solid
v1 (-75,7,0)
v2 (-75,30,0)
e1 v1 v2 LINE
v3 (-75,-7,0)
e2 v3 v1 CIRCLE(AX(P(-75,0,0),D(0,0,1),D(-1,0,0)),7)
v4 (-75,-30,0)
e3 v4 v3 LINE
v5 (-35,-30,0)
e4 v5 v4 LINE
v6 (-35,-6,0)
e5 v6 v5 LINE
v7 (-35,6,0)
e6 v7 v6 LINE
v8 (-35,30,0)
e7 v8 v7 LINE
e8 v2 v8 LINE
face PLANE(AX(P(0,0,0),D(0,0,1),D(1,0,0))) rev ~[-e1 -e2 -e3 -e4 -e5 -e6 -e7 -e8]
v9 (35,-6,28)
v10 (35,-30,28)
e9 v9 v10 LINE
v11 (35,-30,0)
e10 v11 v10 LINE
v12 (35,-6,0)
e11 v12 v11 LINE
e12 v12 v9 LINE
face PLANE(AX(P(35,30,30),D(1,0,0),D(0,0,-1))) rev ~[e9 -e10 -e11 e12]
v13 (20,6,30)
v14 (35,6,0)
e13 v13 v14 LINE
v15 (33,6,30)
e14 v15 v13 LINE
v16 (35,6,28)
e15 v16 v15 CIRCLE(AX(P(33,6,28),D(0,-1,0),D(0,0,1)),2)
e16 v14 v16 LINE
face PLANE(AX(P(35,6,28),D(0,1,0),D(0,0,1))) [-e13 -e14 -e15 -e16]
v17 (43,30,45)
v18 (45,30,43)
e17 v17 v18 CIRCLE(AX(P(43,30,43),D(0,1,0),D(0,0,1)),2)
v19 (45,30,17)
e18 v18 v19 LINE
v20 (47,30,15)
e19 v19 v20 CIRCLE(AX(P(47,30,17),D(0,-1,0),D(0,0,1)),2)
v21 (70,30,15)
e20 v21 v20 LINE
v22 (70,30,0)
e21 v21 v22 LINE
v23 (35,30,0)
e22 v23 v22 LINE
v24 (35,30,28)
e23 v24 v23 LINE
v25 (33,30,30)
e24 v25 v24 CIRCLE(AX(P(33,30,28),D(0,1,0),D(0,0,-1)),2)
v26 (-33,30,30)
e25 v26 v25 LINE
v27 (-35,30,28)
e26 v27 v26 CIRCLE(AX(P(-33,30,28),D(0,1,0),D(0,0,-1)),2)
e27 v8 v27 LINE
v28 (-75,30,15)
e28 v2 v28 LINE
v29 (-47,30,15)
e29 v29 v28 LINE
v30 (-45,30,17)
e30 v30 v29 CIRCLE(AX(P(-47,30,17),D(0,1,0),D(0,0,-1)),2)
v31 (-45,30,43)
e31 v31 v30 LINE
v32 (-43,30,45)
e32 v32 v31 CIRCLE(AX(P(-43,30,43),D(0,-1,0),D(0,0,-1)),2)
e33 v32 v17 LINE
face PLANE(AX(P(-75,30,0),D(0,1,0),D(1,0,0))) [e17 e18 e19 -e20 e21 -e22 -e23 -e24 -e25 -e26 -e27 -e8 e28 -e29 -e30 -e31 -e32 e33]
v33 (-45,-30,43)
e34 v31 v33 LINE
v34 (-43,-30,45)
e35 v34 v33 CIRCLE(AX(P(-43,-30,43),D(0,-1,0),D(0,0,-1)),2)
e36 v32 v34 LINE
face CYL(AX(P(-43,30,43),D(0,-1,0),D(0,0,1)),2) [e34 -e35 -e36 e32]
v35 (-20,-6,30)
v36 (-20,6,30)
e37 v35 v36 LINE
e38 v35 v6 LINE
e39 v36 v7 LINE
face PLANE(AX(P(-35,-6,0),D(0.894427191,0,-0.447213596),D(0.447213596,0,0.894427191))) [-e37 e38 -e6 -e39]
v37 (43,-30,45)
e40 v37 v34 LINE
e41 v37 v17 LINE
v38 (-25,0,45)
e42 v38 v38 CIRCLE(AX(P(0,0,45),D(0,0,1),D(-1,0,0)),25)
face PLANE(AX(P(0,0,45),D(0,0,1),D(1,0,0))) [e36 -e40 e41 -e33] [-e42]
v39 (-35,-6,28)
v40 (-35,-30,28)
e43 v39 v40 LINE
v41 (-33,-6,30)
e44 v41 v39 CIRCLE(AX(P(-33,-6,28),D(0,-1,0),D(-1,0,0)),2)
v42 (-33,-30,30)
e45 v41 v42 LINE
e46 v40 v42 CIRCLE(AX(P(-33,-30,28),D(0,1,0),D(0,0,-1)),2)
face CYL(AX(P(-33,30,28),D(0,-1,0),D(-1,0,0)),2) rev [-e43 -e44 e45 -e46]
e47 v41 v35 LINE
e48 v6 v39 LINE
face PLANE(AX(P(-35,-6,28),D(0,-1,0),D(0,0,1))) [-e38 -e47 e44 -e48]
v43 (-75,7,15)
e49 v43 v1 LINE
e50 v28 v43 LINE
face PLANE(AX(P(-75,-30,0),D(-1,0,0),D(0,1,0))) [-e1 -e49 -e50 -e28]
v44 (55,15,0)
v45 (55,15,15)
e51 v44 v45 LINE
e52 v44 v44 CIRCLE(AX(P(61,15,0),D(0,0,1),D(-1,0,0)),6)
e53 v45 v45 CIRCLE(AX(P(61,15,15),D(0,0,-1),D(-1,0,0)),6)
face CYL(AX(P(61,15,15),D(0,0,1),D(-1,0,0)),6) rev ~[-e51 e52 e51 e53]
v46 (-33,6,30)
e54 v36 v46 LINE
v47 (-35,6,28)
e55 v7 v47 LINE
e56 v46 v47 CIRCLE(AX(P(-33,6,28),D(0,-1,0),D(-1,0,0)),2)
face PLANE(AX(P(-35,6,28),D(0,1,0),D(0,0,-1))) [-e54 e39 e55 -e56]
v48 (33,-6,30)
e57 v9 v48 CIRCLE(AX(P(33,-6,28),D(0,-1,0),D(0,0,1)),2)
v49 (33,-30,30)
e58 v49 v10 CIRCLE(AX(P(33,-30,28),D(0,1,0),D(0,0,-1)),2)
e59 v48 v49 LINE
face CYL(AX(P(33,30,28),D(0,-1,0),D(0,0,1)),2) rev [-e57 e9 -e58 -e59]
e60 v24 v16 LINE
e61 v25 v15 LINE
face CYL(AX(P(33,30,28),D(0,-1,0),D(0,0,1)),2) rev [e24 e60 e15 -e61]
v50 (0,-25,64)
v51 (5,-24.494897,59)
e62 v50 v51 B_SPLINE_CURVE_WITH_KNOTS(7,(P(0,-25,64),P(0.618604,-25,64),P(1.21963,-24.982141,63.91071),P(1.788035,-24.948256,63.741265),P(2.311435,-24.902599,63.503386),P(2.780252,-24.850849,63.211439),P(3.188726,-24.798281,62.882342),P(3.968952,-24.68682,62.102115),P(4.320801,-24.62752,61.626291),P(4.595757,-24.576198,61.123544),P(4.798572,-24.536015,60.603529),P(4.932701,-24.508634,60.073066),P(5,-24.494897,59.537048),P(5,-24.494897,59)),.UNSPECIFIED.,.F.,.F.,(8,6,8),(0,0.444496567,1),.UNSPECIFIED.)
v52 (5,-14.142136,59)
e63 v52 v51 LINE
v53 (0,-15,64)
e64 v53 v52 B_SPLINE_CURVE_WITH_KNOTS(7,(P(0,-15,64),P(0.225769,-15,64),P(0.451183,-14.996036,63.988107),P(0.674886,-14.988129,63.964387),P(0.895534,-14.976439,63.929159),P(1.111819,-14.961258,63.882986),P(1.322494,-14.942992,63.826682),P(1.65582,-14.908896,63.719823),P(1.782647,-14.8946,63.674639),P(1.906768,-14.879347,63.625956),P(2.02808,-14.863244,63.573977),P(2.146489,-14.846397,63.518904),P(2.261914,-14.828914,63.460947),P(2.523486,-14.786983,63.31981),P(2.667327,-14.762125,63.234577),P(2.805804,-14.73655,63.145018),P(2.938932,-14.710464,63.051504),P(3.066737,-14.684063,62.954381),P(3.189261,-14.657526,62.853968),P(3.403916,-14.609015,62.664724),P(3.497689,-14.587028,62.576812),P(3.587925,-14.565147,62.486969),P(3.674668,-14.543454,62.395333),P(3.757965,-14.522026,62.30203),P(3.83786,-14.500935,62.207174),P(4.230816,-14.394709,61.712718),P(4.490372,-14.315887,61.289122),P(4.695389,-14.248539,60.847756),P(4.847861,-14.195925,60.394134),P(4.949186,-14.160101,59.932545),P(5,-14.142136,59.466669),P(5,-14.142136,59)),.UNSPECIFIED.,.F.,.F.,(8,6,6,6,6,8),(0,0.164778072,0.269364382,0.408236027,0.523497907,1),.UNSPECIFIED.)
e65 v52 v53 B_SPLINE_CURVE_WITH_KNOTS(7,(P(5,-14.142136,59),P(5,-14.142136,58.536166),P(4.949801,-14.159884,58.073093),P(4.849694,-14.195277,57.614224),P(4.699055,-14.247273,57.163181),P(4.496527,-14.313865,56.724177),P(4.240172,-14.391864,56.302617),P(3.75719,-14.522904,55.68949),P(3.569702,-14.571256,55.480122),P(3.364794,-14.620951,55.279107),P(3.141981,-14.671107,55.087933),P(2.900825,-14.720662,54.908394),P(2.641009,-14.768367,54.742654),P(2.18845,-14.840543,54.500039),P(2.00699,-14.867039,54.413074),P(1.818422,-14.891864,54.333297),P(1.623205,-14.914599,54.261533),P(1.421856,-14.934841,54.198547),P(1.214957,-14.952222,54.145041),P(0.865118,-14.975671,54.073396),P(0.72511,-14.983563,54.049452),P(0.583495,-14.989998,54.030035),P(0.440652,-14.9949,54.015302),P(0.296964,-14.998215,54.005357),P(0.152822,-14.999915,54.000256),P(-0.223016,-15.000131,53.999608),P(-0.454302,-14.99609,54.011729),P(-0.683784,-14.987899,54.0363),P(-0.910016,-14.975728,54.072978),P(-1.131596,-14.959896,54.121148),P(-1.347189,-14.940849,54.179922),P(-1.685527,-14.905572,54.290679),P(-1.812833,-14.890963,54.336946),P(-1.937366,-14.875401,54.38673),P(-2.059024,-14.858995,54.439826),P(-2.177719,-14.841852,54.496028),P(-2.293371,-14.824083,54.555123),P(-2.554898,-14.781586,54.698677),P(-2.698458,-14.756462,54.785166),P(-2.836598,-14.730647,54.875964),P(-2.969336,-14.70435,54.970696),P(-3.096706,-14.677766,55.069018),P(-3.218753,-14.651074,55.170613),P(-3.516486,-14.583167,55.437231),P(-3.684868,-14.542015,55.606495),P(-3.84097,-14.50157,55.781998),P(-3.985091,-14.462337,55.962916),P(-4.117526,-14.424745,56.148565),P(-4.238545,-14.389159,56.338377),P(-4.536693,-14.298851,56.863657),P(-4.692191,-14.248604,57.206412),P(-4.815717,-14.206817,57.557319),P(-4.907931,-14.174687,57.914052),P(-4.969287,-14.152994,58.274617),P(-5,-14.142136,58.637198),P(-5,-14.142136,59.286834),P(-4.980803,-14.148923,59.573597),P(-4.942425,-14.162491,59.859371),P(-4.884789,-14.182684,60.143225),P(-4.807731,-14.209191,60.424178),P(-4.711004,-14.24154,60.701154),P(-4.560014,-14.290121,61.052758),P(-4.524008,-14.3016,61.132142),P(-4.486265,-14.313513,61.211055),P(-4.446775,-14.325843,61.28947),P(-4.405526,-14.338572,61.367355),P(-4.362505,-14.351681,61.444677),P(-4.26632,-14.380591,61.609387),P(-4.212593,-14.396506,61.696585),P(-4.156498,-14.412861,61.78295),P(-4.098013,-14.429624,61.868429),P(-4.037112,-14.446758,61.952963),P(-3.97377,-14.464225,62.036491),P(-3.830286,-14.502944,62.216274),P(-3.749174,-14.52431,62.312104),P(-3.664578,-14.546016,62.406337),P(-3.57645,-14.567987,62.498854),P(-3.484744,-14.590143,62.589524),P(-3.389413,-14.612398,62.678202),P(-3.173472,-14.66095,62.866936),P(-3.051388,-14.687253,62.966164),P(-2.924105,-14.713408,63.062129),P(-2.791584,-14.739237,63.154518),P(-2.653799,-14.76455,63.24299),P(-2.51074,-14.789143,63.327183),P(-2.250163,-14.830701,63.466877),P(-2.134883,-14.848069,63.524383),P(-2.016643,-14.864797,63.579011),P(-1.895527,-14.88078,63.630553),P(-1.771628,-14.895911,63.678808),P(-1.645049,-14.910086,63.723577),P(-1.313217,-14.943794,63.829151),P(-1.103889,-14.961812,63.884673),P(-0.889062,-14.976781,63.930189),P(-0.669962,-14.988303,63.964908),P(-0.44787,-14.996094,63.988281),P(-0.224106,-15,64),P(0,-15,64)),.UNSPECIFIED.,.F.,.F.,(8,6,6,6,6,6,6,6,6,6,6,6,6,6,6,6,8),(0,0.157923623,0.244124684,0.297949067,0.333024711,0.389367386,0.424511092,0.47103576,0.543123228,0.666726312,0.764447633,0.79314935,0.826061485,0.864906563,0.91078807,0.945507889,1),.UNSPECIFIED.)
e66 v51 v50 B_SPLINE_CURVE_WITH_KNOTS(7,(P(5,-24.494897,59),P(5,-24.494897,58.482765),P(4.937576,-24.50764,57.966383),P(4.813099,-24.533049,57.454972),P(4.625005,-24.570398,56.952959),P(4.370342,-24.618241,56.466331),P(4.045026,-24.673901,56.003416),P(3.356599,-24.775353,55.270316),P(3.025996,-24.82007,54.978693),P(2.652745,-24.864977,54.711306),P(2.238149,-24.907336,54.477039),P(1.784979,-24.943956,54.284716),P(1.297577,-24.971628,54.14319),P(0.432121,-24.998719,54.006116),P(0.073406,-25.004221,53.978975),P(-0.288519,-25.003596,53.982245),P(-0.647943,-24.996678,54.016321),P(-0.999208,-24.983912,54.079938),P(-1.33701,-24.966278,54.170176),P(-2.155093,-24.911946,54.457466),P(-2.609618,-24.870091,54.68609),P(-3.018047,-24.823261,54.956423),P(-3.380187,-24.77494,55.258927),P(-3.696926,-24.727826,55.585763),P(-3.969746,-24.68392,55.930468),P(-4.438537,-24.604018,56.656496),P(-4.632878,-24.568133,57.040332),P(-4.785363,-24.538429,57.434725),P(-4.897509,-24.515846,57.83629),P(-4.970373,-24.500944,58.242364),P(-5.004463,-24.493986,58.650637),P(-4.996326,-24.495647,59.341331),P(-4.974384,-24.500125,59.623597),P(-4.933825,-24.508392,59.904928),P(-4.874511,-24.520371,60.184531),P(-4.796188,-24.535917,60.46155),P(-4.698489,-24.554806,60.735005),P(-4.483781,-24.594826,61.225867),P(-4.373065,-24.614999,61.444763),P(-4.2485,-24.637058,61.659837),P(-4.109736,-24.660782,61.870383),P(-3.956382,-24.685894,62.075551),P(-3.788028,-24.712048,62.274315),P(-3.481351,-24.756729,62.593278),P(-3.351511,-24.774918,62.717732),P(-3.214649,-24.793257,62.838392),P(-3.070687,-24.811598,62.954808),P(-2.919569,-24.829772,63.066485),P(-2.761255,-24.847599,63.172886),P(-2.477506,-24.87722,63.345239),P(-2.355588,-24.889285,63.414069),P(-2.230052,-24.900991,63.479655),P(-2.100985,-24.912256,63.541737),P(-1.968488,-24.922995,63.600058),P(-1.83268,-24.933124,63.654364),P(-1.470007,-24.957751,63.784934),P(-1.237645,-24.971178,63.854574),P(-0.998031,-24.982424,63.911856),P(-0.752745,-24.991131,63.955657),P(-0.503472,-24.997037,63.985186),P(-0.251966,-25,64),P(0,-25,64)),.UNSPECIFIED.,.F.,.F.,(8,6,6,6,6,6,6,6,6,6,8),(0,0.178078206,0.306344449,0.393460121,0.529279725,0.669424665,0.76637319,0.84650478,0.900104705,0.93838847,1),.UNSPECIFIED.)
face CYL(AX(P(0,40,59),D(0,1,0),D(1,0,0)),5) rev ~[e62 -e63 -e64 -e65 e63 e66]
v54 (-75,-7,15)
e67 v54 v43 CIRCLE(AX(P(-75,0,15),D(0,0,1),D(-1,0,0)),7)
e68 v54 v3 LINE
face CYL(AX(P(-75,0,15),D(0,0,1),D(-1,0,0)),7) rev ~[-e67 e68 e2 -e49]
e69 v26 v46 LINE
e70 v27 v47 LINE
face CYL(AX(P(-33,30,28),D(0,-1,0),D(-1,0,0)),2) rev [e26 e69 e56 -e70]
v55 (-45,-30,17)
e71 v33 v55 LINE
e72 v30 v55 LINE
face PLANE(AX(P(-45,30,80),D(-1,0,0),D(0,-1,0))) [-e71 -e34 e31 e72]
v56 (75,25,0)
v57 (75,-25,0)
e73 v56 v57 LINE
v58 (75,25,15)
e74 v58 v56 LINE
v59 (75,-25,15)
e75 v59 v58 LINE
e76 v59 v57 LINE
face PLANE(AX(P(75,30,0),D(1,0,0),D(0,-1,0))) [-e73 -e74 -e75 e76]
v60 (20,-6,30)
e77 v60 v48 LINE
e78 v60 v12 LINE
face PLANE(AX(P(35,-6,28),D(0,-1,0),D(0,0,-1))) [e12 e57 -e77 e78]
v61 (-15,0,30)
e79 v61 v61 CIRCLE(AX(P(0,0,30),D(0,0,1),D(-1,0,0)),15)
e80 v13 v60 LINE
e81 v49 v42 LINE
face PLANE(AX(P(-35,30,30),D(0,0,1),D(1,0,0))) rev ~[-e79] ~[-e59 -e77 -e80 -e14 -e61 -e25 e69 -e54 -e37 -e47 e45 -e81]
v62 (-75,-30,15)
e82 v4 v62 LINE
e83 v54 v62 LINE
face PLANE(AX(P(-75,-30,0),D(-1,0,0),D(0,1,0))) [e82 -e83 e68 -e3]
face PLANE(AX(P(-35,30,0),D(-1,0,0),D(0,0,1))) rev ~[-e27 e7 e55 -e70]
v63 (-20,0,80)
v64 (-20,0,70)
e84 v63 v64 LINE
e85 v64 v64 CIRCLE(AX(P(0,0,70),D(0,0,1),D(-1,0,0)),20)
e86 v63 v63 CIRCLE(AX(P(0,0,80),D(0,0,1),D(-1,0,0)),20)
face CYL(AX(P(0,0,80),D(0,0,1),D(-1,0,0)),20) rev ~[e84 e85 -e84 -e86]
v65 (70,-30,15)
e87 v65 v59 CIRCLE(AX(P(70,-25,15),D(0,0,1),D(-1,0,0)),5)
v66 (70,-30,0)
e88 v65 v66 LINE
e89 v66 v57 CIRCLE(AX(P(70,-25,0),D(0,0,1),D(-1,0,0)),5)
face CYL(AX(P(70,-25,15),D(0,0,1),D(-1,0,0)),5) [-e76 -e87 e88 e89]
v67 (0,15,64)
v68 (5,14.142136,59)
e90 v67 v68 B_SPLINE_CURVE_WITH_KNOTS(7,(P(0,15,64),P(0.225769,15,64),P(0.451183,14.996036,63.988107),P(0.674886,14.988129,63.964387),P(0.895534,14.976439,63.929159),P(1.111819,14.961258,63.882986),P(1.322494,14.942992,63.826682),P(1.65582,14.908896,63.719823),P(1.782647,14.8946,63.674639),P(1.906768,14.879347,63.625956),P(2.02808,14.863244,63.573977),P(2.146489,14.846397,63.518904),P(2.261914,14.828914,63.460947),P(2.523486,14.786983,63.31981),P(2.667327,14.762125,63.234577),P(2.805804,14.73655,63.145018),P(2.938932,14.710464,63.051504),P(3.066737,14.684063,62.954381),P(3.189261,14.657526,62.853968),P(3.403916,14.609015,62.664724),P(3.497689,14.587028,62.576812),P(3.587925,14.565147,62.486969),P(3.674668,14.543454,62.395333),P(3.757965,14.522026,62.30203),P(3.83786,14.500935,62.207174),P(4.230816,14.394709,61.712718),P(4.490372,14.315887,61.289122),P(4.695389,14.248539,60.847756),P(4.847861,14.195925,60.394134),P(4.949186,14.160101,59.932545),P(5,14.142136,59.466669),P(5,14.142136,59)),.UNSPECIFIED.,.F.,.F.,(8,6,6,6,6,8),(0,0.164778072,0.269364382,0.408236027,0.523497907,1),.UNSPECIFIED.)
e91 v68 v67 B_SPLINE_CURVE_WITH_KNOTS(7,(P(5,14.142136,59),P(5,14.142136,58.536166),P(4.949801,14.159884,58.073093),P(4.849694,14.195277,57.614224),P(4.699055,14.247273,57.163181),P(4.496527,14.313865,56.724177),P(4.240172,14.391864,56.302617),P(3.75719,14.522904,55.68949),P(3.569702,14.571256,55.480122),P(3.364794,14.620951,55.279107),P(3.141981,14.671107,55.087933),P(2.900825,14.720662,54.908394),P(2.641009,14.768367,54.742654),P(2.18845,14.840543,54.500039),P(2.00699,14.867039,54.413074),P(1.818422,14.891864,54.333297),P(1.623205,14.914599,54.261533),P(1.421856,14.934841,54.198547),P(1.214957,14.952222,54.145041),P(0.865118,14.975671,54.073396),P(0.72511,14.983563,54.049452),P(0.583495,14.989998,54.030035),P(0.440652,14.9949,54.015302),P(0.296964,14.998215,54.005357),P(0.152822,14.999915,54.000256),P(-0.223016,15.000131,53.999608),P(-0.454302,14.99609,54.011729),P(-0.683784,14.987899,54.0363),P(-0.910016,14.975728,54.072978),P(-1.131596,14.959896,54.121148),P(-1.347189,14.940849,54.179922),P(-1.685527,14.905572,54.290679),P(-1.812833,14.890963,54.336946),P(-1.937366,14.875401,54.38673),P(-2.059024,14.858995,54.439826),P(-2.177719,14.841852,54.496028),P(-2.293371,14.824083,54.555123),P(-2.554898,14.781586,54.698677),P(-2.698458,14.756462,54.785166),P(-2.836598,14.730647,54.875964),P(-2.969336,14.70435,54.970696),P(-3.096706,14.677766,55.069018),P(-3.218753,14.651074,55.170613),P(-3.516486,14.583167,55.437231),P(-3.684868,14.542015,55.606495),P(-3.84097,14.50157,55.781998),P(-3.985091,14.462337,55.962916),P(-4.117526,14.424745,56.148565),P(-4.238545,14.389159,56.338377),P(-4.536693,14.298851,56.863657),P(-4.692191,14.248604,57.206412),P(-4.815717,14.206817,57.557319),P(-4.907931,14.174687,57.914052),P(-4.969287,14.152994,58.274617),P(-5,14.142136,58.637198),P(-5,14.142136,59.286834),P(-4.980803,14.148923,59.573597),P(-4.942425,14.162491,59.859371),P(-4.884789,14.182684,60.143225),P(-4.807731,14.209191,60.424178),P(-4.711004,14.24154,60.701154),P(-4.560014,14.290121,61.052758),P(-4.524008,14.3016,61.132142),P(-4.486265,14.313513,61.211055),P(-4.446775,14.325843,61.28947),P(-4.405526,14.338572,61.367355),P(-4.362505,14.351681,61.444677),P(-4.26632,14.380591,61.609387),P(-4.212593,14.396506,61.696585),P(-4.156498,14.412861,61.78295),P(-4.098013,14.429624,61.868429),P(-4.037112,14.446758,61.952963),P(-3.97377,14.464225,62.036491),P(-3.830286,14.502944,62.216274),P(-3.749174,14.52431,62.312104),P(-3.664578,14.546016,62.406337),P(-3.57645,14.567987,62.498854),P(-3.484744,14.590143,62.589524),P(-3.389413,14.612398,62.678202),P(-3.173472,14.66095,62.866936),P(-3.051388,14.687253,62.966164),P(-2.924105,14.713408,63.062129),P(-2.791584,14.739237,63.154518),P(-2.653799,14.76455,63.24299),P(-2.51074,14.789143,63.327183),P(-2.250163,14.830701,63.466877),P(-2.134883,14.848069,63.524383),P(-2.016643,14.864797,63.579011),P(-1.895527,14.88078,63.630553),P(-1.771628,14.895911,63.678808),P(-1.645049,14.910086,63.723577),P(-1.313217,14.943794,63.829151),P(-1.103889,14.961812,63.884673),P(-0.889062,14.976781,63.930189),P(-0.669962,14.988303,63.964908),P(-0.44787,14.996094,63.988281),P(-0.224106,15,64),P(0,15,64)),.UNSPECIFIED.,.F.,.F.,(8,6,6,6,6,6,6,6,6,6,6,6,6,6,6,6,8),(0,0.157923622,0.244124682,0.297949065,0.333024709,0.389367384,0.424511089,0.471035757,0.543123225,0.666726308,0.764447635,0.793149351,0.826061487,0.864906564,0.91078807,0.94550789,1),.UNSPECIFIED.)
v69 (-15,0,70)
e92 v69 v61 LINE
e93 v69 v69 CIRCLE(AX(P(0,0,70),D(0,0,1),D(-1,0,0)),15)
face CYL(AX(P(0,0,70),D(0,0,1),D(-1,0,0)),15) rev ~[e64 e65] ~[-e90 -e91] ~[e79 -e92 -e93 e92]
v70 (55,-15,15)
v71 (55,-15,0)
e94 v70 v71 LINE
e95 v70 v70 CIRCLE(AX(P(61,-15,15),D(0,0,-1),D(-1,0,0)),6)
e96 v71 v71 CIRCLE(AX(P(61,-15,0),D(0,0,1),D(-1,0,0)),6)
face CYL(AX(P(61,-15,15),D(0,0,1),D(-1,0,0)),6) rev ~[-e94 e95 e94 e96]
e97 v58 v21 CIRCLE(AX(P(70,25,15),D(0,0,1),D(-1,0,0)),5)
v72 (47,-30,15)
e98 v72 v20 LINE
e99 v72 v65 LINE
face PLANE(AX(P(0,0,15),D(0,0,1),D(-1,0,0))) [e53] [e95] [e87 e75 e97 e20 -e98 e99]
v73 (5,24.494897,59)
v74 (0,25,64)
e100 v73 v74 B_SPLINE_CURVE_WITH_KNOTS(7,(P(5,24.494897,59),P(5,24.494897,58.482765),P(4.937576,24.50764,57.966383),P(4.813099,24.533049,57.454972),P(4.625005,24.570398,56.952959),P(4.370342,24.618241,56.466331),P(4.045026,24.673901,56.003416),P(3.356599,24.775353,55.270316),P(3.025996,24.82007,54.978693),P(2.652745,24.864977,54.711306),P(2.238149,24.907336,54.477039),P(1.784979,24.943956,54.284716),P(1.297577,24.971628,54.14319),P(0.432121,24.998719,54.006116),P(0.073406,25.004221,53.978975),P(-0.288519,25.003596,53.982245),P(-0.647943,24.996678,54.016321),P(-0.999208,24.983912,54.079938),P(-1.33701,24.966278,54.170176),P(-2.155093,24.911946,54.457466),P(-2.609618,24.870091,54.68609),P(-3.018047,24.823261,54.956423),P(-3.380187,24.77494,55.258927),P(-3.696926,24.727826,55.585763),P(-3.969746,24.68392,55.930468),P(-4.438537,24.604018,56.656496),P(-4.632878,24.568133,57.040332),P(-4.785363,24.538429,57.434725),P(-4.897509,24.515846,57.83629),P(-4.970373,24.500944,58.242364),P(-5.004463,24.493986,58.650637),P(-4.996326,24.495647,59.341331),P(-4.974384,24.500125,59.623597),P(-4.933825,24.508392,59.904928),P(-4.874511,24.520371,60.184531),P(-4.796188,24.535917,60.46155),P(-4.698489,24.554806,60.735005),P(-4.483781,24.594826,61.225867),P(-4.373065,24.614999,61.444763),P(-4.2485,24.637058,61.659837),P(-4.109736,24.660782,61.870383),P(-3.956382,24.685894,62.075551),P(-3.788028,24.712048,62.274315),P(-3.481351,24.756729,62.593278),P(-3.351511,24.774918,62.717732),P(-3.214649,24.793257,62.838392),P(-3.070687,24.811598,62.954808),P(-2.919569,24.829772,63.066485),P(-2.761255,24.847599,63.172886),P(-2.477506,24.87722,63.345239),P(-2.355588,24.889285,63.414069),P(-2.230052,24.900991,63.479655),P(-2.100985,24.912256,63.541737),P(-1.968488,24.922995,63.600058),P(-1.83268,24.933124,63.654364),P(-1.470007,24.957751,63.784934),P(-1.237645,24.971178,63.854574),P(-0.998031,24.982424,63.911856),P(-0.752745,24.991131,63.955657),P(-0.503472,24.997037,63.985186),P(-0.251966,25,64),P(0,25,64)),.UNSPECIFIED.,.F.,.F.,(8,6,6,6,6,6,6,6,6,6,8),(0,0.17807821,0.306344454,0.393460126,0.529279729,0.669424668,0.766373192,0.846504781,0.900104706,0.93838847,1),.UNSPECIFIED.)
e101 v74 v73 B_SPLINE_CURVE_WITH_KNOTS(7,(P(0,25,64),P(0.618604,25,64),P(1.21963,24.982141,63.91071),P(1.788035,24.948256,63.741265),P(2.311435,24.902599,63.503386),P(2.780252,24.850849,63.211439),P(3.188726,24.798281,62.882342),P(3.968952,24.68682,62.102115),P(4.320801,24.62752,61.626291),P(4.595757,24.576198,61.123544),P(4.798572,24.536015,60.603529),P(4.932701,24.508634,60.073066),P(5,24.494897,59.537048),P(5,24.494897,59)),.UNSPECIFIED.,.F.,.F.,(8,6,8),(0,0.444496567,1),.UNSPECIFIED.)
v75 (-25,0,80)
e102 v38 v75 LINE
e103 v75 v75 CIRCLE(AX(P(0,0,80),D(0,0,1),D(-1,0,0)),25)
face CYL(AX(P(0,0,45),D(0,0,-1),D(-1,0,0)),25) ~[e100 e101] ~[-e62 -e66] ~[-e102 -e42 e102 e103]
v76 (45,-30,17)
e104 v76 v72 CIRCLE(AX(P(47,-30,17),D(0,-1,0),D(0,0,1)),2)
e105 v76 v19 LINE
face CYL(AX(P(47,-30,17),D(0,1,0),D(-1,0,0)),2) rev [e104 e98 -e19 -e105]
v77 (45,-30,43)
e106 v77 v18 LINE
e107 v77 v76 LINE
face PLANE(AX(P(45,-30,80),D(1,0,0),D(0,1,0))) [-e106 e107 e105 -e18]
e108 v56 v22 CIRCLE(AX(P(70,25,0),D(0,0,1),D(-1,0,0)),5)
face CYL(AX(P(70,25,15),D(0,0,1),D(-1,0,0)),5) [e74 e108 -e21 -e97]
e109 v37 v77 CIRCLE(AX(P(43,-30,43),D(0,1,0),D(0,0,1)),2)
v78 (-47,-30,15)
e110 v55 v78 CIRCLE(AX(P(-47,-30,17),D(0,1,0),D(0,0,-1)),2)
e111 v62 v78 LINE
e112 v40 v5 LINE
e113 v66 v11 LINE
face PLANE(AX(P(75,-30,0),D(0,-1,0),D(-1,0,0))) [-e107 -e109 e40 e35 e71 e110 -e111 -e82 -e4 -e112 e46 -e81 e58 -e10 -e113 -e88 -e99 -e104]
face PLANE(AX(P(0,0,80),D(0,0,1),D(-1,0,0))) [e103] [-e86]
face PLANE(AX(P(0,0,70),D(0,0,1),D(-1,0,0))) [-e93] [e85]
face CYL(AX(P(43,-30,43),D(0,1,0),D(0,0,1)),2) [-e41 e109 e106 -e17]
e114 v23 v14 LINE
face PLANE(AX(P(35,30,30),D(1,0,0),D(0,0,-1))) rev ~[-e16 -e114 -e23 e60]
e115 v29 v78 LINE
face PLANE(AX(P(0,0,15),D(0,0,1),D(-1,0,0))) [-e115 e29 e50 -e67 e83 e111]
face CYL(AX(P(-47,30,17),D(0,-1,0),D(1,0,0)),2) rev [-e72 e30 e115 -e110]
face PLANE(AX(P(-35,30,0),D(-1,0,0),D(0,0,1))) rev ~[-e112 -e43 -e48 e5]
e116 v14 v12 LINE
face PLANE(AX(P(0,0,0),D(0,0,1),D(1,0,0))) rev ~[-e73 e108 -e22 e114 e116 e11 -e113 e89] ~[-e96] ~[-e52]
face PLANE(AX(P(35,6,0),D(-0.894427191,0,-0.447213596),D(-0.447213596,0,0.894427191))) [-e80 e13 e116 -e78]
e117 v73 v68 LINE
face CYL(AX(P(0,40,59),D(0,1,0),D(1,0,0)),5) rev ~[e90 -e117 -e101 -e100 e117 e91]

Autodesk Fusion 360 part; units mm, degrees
sketch "Sketch2" plane through (0, 0, 0) normal (0, 0, 1) x (1, 0, 0)
  line L0 (-75, 30) -> (75, 30)
  line L1 (75, 30) -> (75, -30)
  line L2 (75, -30) -> (-75, -30)
  line L3 (-75, -30) -> (-75, 30)
  point P0 (-75, 0)
  point P1 (0, 30)
  point P2 (-75, 30)
  point P3 (0, -30)
  point P4 (-75, -30)
  point P5 (-75, 0)
  point P6 (75, 0)
  point P7 (75, 80)
  point P8 (-75, 80)
  point P9 (75, 30)
  point P10 (-75, 30)
  point P11 (-75, -30)
  point P12 (75, -30)
  point P13 (-45, 30)
  point P14 (-45, -30)
  point P15 (75, -30)
  point P16 (75, 30)
  point P17 (45, 45)
  point P18 (-45, 45)
  point P19 (-45, 15)
  point P20 (-75, 15)
  point P21 (-75, 0)
  point P22 (-35, 0)
  point P23 (-35, 30)
  point P24 (35, 30)
  point P25 (35, 0)
  point P26 (75, 0)
  point P27 (75, 15)
  point P28 (45, 15)
  point P29 (-75, 30)
  point P30 (-75, -30)
  point P31 (75, -30)
  point P32 (75, 30)
  point P33 (30, 28)
  point P34 (-30, 28)
  point P35 (-30, 0)
  point P36 (30, 0)
  point P37 (-35, 31)
  point P38 (-35, 0)
  point P39 (-20, 0)
  point P40 (-20, 31)
  point P41 (30, 28)
  point P42 (-30, 28)
  point P43 (-30, 0)
  point P44 (30, 0)
  dimension "d3" = 150
extrude "Extrude1" add sketch "Sketch2" along normal blind 80 makes body 1
sketch "Sketch3" plane through (0, 30, 0) normal (0, 1, 0) x (-1, 0, 0)
  line L0 (-75, 0) -> (75, 0)
  line L1 (75, 0) -> (75, 80)
  line L2 (75, 80) -> (-75, 80)
  line L3 (-75, 80) -> (-75, 0)
  line L4 (-35, 0) -> (35, 0)
  line L5 (35, 0) -> (35, 30)
  line L6 (35, 30) -> (-35, 30)
  line L7 (-35, 30) -> (-35, 0)
  point P0 (-35, 0)
  point P1 (35, 0)
  dimension "d6" = 30
extrude "Extrude2" cut sketch "Sketch3" against normal blind 95 contours L0 L4 L5 L6 L7 bodies 1
sketch "Sketch4" plane through (0, 0, 80) normal (0, 0, 1) x (-1, 0, 0)
  line L0 (75, 30) -> (-75, 30)
  line L1 (-75, 30) -> (-75, -30)
  line L2 (-75, -30) -> (75, -30)
  line L3 (75, -30) -> (75, 30)
  line L4 (-75, 30) -> (-45, 30)
  line L5 (-45, 30) -> (-45, -30)
  line L6 (-45, -30) -> (-75, -30)
  line L7 (-75, -30) -> (-75, 30)
  dimension "d9" = 30
  dimension "d10" = 60
extrude "Extrude3" cut sketch "Sketch4" against normal blind 65 contours L0 L1 L2 L4 L5 L6 L7 bodies 1
sketch "Sketch5" plane through (0, 0, 80) normal (0, 0, 1) x (-1, 0, 0)
  line L0 (-45, 30) -> (-45, -30)
  line L1 (-45, -30) -> (75, -30)
  line L2 (75, -30) -> (75, 30)
  line L3 (75, 30) -> (-45, 30)
  line L4 (45, 30) -> (75, 30)
  line L5 (75, 30) -> (75, -30)
  line L6 (75, -30) -> (45, -30)
  line L7 (45, -30) -> (45, 30)
extrude "Extrude4" cut sketch "Sketch5" against normal blind 65 contours L1 L2 L3 L4 L5 L6 L7 bodies 1
extrude "Extrude5" cut 1 faces at (-15, 10, 80) along direction (0, 0, -1) blind 35 on bodies 1 bodies 1
sketch "Sketch6" plane through (0, 30, 0) normal (0, 1, 0) x (-1, 0, 0)
  line L0 (45, 45) -> (-45, 45)
  line L1 (-45, 45) -> (-45, 15)
  line L2 (-45, 15) -> (-75, 15)
  line L3 (-75, 15) -> (-75, 0)
  line L4 (-75, 0) -> (-35, 0)
  line L5 (-35, 0) -> (-35, 30)
  line L6 (-35, 30) -> (35, 30)
  line L7 (35, 30) -> (35, 0)
  line L8 (35, 0) -> (75, 0)
  line L9 (75, 0) -> (75, 15)
  line L10 (75, 15) -> (45, 15)
  line L11 (45, 15) -> (45, 45)
sketch "Sketch7" plane through (0, 30, 0) normal (0, 1, 0) x (-1, 0, 0)
fillet "Fillet1" radius 2 1 edges at (-45, 0, 45) on bodies 1
fillet "Fillet2" radius 2 1 edges at (45, 0, 45) on bodies 1
fillet "Fillet3" radius 2 1 edges at (45, 0, 15) on bodies 1
fillet "Fillet4" radius 2 1 edges at (-45, 0, 15) on bodies 1
sketch "Sketch8" plane through (0, 0, 15) normal (0, 0, 1) x (-1, 0, 0)
  line L0 (-47, -30) -> (-47, 30)
  line L1 (-47, 30) -> (-75, 30)
  line L2 (-75, 30) -> (-75, -30)
  line L3 (-75, -30) -> (-47, -30)
  line L4 (-61, 30) -> (-61, -30)
  line L5 (-75, 0) -> (-47, 0)
  circle A0 centre (-61, 15) radius 6
  circle A1 centre (-61, -15) radius 6
  dimension "d25" = 12
  dimension "d26" = 12
extrude "Extrude6" cut sketch "Sketch8" against normal blind 14 contours L4 A1 | L4 A1 bodies 1
extrude "Extrude7" cut 1 faces at (59.4674, 14.5272, 1) along direction (0, 0, -1) blind 16 on bodies 1 bodies 1
extrude "Extrude8" cut sketch "Sketch8" against normal blind 21 contours L4 A0 | L4 A0 bodies 1
sketch "Sketch9" plane through (0, 0, 15) normal (0, 0, 1) x (-1, 0, 0)
  line L0 (47, 30) -> (47, -30)
  line L1 (47, -30) -> (75, -30)
  line L2 (75, -30) -> (75, 30)
  line L3 (75, 30) -> (47, 30)
  circle A0 centre (75, 0) radius 7
  dimension "d33" = 14
extrude "Extrude9" cut sketch "Sketch9" against normal blind 34 contours L2 A0 picked at (72.7252, 0.5192) bodies 1
sketch "Sketch10" plane through (0, 0, 15) normal (0, 0, 1) x (-1, 0, 0)
  circle A0 centre (-70, 25) radius 5
  circle A1 centre (-70, -25) radius 5
  arc A2 (-75, -25) -> (-70, -30) centre (-72.5, -27.5) ccw
  arc A3 (-70, 30) -> (-75, 25) centre (-72.5, 27.5) ccw
  point P0 (-72.5, 30)
  point P1 (-75, 27.5)
  point P2 (-75, 30)
  point P3 (-70, 30)
  point P4 (-75, 25)
  point P5 (-70, -30)
  point P6 (-75, -25)
  dimension "d37" = 10
  dimension "d38" = 10
extrude "Extrude10" cut sketch "Sketch10" against normal blind 17 contours A0 A3 bodies 1
extrude "Extrude11" cut sketch "Sketch10" against normal blind 23 contours A1 A2 bodies 1
sketch "Sketch11" plane through (0, 0, 45) normal (0, 0, 1) x (-1, 0, 0)
  line L0 (-43, 30) -> (-43, -30)
  line L1 (-43, -30) -> (43, -30)
  line L2 (43, -30) -> (43, 30)
  line L3 (43, 30) -> (-43, 30)
sketch "Sketch12" plane through (0, 0, 45) normal (0, 0, 1) x (-1, 0, 0)
sketch "Sketch13" plane through (0, 0, 45) normal (0, 0, 1) x (-1, 0, 0)
  circle A0 centre (0, 0) radius 25
  point P0 (0, 30)
  point P1 (75, 30)
  point P2 (0, -30)
  point P3 (-45, 0)
  point P4 (47, 0)
  dimension "d43" = 50
extrude "Extrude12" add sketch "Sketch13" along normal blind 35 bodies 1
sketch "Sketch14" plane through (0, 0, 80) normal (0, 0, 1) x (-1, 0, 0)
  circle A0 centre (0, 0) radius 25
  circle A1 centre (0, 0) radius 20
  dimension "d46" = 40
extrude "Extrude13" cut sketch "Sketch14" against normal blind 10 contours A1 bodies 1
sketch "Sketch15" plane through (0, 0, 70) normal (0, 0, 1) x (-1, 0, 0)
  circle A0 centre (0, 0) radius 20
  circle A1 centre (0, 0) radius 15
  dimension "d49" = 30
extrude "Extrude14" cut sketch "Sketch15" against normal blind 25 contours A1 bodies 1
sketch "Sketch16" plane through (0, 0, 0) normal (0, 1, 0) x (1, 0, 0)
  line L0 (0, -80) -> (0, -59)
  circle A0 centre (0, -59) radius 5
  point P0 (0, -80)
  dimension "d52" = 21
  dimension "d53" = 10
extrude "Extrude15" cut sketch "Sketch16" along normal blind -40 and the other way blind -40 bodies 1
fillet "Fillet5" radius 2 1 edges at (-35, 0, 30) on bodies 1
fillet "Fillet6" radius 2 1 edges at (35, 0, 30) on bodies 1
sketch "Sketch17" plane through (-35, 0, 0) normal (1, 0, 0) x (0, 1, 0)
  line L0 (30, 28) -> (-30, 28)
  line L1 (-30, 28) -> (-30, 0)
  line L2 (-30, 0) -> (30, 0)
  line L3 (30, 0) -> (30, 28)
  line L4 (-6, 0) -> (6, 0)
  line L5 (-6, 0) -> (-6, 31)
  line L6 (-6, 31) -> (6, 31)
  line L7 (6, 31) -> (6, 0)
extrude "Extrude16" add sketch "Sketch17" along normal blind 15 separate body contours L0 L2 L4 L5 L7 | L0 L5 L6 L7 makes body 2
sketch "Sketch18" plane through (0, -6, 0) normal (0, -1, 0) x (1, 0, 0)
  line L0 (-35, 31) -> (-35, 0)
  line L1 (-35, 0) -> (-20, 0)
  line L2 (-20, 0) -> (-20, 31)
  line L3 (-20, 31) -> (-35, 31)
  line L4 (-35, 0) -> (-20, 30)
  line L5 (-35, 0) -> (-20, 0)
  line L6 (-20, 0) -> (-20, 30)
extrude "Extrude17" cut sketch "Sketch18" against normal blind 54 contours L1 L2 L4 L5 L6 bodies 2
sketch "Sketch19" plane through (35, 0, 0) normal (-1, 0, 0) x (0, -1, 0)
  line L0 (30, 28) -> (-30, 28)
  line L1 (-30, 28) -> (-30, 0)
  line L2 (-30, 0) -> (30, 0)
  line L3 (30, 0) -> (30, 28)
copy_body "CopyPasteBodies1" bodies 2 makes body 3
move_body "Move1" bodies 3 to x (-1, 0, 0) y (0, -1, 0) z (0, 0, 1) at (-27, -12, 0)
move_body "Move2" bodies 3 to x (1, 0, 0) y (0, 1, 0) z (0, 0, 1) at (27, 12, 0)
sketch "Sketch20" plane through (0, 0, 0) normal (0, 1, 0) x (1, 0, 0)
extrude "Extrude18" cut sketch "Sketch15" against normal blind 45 contours A1 bodies 1
combine "Combine1" operation add target body 1 tool bodies 2 3
